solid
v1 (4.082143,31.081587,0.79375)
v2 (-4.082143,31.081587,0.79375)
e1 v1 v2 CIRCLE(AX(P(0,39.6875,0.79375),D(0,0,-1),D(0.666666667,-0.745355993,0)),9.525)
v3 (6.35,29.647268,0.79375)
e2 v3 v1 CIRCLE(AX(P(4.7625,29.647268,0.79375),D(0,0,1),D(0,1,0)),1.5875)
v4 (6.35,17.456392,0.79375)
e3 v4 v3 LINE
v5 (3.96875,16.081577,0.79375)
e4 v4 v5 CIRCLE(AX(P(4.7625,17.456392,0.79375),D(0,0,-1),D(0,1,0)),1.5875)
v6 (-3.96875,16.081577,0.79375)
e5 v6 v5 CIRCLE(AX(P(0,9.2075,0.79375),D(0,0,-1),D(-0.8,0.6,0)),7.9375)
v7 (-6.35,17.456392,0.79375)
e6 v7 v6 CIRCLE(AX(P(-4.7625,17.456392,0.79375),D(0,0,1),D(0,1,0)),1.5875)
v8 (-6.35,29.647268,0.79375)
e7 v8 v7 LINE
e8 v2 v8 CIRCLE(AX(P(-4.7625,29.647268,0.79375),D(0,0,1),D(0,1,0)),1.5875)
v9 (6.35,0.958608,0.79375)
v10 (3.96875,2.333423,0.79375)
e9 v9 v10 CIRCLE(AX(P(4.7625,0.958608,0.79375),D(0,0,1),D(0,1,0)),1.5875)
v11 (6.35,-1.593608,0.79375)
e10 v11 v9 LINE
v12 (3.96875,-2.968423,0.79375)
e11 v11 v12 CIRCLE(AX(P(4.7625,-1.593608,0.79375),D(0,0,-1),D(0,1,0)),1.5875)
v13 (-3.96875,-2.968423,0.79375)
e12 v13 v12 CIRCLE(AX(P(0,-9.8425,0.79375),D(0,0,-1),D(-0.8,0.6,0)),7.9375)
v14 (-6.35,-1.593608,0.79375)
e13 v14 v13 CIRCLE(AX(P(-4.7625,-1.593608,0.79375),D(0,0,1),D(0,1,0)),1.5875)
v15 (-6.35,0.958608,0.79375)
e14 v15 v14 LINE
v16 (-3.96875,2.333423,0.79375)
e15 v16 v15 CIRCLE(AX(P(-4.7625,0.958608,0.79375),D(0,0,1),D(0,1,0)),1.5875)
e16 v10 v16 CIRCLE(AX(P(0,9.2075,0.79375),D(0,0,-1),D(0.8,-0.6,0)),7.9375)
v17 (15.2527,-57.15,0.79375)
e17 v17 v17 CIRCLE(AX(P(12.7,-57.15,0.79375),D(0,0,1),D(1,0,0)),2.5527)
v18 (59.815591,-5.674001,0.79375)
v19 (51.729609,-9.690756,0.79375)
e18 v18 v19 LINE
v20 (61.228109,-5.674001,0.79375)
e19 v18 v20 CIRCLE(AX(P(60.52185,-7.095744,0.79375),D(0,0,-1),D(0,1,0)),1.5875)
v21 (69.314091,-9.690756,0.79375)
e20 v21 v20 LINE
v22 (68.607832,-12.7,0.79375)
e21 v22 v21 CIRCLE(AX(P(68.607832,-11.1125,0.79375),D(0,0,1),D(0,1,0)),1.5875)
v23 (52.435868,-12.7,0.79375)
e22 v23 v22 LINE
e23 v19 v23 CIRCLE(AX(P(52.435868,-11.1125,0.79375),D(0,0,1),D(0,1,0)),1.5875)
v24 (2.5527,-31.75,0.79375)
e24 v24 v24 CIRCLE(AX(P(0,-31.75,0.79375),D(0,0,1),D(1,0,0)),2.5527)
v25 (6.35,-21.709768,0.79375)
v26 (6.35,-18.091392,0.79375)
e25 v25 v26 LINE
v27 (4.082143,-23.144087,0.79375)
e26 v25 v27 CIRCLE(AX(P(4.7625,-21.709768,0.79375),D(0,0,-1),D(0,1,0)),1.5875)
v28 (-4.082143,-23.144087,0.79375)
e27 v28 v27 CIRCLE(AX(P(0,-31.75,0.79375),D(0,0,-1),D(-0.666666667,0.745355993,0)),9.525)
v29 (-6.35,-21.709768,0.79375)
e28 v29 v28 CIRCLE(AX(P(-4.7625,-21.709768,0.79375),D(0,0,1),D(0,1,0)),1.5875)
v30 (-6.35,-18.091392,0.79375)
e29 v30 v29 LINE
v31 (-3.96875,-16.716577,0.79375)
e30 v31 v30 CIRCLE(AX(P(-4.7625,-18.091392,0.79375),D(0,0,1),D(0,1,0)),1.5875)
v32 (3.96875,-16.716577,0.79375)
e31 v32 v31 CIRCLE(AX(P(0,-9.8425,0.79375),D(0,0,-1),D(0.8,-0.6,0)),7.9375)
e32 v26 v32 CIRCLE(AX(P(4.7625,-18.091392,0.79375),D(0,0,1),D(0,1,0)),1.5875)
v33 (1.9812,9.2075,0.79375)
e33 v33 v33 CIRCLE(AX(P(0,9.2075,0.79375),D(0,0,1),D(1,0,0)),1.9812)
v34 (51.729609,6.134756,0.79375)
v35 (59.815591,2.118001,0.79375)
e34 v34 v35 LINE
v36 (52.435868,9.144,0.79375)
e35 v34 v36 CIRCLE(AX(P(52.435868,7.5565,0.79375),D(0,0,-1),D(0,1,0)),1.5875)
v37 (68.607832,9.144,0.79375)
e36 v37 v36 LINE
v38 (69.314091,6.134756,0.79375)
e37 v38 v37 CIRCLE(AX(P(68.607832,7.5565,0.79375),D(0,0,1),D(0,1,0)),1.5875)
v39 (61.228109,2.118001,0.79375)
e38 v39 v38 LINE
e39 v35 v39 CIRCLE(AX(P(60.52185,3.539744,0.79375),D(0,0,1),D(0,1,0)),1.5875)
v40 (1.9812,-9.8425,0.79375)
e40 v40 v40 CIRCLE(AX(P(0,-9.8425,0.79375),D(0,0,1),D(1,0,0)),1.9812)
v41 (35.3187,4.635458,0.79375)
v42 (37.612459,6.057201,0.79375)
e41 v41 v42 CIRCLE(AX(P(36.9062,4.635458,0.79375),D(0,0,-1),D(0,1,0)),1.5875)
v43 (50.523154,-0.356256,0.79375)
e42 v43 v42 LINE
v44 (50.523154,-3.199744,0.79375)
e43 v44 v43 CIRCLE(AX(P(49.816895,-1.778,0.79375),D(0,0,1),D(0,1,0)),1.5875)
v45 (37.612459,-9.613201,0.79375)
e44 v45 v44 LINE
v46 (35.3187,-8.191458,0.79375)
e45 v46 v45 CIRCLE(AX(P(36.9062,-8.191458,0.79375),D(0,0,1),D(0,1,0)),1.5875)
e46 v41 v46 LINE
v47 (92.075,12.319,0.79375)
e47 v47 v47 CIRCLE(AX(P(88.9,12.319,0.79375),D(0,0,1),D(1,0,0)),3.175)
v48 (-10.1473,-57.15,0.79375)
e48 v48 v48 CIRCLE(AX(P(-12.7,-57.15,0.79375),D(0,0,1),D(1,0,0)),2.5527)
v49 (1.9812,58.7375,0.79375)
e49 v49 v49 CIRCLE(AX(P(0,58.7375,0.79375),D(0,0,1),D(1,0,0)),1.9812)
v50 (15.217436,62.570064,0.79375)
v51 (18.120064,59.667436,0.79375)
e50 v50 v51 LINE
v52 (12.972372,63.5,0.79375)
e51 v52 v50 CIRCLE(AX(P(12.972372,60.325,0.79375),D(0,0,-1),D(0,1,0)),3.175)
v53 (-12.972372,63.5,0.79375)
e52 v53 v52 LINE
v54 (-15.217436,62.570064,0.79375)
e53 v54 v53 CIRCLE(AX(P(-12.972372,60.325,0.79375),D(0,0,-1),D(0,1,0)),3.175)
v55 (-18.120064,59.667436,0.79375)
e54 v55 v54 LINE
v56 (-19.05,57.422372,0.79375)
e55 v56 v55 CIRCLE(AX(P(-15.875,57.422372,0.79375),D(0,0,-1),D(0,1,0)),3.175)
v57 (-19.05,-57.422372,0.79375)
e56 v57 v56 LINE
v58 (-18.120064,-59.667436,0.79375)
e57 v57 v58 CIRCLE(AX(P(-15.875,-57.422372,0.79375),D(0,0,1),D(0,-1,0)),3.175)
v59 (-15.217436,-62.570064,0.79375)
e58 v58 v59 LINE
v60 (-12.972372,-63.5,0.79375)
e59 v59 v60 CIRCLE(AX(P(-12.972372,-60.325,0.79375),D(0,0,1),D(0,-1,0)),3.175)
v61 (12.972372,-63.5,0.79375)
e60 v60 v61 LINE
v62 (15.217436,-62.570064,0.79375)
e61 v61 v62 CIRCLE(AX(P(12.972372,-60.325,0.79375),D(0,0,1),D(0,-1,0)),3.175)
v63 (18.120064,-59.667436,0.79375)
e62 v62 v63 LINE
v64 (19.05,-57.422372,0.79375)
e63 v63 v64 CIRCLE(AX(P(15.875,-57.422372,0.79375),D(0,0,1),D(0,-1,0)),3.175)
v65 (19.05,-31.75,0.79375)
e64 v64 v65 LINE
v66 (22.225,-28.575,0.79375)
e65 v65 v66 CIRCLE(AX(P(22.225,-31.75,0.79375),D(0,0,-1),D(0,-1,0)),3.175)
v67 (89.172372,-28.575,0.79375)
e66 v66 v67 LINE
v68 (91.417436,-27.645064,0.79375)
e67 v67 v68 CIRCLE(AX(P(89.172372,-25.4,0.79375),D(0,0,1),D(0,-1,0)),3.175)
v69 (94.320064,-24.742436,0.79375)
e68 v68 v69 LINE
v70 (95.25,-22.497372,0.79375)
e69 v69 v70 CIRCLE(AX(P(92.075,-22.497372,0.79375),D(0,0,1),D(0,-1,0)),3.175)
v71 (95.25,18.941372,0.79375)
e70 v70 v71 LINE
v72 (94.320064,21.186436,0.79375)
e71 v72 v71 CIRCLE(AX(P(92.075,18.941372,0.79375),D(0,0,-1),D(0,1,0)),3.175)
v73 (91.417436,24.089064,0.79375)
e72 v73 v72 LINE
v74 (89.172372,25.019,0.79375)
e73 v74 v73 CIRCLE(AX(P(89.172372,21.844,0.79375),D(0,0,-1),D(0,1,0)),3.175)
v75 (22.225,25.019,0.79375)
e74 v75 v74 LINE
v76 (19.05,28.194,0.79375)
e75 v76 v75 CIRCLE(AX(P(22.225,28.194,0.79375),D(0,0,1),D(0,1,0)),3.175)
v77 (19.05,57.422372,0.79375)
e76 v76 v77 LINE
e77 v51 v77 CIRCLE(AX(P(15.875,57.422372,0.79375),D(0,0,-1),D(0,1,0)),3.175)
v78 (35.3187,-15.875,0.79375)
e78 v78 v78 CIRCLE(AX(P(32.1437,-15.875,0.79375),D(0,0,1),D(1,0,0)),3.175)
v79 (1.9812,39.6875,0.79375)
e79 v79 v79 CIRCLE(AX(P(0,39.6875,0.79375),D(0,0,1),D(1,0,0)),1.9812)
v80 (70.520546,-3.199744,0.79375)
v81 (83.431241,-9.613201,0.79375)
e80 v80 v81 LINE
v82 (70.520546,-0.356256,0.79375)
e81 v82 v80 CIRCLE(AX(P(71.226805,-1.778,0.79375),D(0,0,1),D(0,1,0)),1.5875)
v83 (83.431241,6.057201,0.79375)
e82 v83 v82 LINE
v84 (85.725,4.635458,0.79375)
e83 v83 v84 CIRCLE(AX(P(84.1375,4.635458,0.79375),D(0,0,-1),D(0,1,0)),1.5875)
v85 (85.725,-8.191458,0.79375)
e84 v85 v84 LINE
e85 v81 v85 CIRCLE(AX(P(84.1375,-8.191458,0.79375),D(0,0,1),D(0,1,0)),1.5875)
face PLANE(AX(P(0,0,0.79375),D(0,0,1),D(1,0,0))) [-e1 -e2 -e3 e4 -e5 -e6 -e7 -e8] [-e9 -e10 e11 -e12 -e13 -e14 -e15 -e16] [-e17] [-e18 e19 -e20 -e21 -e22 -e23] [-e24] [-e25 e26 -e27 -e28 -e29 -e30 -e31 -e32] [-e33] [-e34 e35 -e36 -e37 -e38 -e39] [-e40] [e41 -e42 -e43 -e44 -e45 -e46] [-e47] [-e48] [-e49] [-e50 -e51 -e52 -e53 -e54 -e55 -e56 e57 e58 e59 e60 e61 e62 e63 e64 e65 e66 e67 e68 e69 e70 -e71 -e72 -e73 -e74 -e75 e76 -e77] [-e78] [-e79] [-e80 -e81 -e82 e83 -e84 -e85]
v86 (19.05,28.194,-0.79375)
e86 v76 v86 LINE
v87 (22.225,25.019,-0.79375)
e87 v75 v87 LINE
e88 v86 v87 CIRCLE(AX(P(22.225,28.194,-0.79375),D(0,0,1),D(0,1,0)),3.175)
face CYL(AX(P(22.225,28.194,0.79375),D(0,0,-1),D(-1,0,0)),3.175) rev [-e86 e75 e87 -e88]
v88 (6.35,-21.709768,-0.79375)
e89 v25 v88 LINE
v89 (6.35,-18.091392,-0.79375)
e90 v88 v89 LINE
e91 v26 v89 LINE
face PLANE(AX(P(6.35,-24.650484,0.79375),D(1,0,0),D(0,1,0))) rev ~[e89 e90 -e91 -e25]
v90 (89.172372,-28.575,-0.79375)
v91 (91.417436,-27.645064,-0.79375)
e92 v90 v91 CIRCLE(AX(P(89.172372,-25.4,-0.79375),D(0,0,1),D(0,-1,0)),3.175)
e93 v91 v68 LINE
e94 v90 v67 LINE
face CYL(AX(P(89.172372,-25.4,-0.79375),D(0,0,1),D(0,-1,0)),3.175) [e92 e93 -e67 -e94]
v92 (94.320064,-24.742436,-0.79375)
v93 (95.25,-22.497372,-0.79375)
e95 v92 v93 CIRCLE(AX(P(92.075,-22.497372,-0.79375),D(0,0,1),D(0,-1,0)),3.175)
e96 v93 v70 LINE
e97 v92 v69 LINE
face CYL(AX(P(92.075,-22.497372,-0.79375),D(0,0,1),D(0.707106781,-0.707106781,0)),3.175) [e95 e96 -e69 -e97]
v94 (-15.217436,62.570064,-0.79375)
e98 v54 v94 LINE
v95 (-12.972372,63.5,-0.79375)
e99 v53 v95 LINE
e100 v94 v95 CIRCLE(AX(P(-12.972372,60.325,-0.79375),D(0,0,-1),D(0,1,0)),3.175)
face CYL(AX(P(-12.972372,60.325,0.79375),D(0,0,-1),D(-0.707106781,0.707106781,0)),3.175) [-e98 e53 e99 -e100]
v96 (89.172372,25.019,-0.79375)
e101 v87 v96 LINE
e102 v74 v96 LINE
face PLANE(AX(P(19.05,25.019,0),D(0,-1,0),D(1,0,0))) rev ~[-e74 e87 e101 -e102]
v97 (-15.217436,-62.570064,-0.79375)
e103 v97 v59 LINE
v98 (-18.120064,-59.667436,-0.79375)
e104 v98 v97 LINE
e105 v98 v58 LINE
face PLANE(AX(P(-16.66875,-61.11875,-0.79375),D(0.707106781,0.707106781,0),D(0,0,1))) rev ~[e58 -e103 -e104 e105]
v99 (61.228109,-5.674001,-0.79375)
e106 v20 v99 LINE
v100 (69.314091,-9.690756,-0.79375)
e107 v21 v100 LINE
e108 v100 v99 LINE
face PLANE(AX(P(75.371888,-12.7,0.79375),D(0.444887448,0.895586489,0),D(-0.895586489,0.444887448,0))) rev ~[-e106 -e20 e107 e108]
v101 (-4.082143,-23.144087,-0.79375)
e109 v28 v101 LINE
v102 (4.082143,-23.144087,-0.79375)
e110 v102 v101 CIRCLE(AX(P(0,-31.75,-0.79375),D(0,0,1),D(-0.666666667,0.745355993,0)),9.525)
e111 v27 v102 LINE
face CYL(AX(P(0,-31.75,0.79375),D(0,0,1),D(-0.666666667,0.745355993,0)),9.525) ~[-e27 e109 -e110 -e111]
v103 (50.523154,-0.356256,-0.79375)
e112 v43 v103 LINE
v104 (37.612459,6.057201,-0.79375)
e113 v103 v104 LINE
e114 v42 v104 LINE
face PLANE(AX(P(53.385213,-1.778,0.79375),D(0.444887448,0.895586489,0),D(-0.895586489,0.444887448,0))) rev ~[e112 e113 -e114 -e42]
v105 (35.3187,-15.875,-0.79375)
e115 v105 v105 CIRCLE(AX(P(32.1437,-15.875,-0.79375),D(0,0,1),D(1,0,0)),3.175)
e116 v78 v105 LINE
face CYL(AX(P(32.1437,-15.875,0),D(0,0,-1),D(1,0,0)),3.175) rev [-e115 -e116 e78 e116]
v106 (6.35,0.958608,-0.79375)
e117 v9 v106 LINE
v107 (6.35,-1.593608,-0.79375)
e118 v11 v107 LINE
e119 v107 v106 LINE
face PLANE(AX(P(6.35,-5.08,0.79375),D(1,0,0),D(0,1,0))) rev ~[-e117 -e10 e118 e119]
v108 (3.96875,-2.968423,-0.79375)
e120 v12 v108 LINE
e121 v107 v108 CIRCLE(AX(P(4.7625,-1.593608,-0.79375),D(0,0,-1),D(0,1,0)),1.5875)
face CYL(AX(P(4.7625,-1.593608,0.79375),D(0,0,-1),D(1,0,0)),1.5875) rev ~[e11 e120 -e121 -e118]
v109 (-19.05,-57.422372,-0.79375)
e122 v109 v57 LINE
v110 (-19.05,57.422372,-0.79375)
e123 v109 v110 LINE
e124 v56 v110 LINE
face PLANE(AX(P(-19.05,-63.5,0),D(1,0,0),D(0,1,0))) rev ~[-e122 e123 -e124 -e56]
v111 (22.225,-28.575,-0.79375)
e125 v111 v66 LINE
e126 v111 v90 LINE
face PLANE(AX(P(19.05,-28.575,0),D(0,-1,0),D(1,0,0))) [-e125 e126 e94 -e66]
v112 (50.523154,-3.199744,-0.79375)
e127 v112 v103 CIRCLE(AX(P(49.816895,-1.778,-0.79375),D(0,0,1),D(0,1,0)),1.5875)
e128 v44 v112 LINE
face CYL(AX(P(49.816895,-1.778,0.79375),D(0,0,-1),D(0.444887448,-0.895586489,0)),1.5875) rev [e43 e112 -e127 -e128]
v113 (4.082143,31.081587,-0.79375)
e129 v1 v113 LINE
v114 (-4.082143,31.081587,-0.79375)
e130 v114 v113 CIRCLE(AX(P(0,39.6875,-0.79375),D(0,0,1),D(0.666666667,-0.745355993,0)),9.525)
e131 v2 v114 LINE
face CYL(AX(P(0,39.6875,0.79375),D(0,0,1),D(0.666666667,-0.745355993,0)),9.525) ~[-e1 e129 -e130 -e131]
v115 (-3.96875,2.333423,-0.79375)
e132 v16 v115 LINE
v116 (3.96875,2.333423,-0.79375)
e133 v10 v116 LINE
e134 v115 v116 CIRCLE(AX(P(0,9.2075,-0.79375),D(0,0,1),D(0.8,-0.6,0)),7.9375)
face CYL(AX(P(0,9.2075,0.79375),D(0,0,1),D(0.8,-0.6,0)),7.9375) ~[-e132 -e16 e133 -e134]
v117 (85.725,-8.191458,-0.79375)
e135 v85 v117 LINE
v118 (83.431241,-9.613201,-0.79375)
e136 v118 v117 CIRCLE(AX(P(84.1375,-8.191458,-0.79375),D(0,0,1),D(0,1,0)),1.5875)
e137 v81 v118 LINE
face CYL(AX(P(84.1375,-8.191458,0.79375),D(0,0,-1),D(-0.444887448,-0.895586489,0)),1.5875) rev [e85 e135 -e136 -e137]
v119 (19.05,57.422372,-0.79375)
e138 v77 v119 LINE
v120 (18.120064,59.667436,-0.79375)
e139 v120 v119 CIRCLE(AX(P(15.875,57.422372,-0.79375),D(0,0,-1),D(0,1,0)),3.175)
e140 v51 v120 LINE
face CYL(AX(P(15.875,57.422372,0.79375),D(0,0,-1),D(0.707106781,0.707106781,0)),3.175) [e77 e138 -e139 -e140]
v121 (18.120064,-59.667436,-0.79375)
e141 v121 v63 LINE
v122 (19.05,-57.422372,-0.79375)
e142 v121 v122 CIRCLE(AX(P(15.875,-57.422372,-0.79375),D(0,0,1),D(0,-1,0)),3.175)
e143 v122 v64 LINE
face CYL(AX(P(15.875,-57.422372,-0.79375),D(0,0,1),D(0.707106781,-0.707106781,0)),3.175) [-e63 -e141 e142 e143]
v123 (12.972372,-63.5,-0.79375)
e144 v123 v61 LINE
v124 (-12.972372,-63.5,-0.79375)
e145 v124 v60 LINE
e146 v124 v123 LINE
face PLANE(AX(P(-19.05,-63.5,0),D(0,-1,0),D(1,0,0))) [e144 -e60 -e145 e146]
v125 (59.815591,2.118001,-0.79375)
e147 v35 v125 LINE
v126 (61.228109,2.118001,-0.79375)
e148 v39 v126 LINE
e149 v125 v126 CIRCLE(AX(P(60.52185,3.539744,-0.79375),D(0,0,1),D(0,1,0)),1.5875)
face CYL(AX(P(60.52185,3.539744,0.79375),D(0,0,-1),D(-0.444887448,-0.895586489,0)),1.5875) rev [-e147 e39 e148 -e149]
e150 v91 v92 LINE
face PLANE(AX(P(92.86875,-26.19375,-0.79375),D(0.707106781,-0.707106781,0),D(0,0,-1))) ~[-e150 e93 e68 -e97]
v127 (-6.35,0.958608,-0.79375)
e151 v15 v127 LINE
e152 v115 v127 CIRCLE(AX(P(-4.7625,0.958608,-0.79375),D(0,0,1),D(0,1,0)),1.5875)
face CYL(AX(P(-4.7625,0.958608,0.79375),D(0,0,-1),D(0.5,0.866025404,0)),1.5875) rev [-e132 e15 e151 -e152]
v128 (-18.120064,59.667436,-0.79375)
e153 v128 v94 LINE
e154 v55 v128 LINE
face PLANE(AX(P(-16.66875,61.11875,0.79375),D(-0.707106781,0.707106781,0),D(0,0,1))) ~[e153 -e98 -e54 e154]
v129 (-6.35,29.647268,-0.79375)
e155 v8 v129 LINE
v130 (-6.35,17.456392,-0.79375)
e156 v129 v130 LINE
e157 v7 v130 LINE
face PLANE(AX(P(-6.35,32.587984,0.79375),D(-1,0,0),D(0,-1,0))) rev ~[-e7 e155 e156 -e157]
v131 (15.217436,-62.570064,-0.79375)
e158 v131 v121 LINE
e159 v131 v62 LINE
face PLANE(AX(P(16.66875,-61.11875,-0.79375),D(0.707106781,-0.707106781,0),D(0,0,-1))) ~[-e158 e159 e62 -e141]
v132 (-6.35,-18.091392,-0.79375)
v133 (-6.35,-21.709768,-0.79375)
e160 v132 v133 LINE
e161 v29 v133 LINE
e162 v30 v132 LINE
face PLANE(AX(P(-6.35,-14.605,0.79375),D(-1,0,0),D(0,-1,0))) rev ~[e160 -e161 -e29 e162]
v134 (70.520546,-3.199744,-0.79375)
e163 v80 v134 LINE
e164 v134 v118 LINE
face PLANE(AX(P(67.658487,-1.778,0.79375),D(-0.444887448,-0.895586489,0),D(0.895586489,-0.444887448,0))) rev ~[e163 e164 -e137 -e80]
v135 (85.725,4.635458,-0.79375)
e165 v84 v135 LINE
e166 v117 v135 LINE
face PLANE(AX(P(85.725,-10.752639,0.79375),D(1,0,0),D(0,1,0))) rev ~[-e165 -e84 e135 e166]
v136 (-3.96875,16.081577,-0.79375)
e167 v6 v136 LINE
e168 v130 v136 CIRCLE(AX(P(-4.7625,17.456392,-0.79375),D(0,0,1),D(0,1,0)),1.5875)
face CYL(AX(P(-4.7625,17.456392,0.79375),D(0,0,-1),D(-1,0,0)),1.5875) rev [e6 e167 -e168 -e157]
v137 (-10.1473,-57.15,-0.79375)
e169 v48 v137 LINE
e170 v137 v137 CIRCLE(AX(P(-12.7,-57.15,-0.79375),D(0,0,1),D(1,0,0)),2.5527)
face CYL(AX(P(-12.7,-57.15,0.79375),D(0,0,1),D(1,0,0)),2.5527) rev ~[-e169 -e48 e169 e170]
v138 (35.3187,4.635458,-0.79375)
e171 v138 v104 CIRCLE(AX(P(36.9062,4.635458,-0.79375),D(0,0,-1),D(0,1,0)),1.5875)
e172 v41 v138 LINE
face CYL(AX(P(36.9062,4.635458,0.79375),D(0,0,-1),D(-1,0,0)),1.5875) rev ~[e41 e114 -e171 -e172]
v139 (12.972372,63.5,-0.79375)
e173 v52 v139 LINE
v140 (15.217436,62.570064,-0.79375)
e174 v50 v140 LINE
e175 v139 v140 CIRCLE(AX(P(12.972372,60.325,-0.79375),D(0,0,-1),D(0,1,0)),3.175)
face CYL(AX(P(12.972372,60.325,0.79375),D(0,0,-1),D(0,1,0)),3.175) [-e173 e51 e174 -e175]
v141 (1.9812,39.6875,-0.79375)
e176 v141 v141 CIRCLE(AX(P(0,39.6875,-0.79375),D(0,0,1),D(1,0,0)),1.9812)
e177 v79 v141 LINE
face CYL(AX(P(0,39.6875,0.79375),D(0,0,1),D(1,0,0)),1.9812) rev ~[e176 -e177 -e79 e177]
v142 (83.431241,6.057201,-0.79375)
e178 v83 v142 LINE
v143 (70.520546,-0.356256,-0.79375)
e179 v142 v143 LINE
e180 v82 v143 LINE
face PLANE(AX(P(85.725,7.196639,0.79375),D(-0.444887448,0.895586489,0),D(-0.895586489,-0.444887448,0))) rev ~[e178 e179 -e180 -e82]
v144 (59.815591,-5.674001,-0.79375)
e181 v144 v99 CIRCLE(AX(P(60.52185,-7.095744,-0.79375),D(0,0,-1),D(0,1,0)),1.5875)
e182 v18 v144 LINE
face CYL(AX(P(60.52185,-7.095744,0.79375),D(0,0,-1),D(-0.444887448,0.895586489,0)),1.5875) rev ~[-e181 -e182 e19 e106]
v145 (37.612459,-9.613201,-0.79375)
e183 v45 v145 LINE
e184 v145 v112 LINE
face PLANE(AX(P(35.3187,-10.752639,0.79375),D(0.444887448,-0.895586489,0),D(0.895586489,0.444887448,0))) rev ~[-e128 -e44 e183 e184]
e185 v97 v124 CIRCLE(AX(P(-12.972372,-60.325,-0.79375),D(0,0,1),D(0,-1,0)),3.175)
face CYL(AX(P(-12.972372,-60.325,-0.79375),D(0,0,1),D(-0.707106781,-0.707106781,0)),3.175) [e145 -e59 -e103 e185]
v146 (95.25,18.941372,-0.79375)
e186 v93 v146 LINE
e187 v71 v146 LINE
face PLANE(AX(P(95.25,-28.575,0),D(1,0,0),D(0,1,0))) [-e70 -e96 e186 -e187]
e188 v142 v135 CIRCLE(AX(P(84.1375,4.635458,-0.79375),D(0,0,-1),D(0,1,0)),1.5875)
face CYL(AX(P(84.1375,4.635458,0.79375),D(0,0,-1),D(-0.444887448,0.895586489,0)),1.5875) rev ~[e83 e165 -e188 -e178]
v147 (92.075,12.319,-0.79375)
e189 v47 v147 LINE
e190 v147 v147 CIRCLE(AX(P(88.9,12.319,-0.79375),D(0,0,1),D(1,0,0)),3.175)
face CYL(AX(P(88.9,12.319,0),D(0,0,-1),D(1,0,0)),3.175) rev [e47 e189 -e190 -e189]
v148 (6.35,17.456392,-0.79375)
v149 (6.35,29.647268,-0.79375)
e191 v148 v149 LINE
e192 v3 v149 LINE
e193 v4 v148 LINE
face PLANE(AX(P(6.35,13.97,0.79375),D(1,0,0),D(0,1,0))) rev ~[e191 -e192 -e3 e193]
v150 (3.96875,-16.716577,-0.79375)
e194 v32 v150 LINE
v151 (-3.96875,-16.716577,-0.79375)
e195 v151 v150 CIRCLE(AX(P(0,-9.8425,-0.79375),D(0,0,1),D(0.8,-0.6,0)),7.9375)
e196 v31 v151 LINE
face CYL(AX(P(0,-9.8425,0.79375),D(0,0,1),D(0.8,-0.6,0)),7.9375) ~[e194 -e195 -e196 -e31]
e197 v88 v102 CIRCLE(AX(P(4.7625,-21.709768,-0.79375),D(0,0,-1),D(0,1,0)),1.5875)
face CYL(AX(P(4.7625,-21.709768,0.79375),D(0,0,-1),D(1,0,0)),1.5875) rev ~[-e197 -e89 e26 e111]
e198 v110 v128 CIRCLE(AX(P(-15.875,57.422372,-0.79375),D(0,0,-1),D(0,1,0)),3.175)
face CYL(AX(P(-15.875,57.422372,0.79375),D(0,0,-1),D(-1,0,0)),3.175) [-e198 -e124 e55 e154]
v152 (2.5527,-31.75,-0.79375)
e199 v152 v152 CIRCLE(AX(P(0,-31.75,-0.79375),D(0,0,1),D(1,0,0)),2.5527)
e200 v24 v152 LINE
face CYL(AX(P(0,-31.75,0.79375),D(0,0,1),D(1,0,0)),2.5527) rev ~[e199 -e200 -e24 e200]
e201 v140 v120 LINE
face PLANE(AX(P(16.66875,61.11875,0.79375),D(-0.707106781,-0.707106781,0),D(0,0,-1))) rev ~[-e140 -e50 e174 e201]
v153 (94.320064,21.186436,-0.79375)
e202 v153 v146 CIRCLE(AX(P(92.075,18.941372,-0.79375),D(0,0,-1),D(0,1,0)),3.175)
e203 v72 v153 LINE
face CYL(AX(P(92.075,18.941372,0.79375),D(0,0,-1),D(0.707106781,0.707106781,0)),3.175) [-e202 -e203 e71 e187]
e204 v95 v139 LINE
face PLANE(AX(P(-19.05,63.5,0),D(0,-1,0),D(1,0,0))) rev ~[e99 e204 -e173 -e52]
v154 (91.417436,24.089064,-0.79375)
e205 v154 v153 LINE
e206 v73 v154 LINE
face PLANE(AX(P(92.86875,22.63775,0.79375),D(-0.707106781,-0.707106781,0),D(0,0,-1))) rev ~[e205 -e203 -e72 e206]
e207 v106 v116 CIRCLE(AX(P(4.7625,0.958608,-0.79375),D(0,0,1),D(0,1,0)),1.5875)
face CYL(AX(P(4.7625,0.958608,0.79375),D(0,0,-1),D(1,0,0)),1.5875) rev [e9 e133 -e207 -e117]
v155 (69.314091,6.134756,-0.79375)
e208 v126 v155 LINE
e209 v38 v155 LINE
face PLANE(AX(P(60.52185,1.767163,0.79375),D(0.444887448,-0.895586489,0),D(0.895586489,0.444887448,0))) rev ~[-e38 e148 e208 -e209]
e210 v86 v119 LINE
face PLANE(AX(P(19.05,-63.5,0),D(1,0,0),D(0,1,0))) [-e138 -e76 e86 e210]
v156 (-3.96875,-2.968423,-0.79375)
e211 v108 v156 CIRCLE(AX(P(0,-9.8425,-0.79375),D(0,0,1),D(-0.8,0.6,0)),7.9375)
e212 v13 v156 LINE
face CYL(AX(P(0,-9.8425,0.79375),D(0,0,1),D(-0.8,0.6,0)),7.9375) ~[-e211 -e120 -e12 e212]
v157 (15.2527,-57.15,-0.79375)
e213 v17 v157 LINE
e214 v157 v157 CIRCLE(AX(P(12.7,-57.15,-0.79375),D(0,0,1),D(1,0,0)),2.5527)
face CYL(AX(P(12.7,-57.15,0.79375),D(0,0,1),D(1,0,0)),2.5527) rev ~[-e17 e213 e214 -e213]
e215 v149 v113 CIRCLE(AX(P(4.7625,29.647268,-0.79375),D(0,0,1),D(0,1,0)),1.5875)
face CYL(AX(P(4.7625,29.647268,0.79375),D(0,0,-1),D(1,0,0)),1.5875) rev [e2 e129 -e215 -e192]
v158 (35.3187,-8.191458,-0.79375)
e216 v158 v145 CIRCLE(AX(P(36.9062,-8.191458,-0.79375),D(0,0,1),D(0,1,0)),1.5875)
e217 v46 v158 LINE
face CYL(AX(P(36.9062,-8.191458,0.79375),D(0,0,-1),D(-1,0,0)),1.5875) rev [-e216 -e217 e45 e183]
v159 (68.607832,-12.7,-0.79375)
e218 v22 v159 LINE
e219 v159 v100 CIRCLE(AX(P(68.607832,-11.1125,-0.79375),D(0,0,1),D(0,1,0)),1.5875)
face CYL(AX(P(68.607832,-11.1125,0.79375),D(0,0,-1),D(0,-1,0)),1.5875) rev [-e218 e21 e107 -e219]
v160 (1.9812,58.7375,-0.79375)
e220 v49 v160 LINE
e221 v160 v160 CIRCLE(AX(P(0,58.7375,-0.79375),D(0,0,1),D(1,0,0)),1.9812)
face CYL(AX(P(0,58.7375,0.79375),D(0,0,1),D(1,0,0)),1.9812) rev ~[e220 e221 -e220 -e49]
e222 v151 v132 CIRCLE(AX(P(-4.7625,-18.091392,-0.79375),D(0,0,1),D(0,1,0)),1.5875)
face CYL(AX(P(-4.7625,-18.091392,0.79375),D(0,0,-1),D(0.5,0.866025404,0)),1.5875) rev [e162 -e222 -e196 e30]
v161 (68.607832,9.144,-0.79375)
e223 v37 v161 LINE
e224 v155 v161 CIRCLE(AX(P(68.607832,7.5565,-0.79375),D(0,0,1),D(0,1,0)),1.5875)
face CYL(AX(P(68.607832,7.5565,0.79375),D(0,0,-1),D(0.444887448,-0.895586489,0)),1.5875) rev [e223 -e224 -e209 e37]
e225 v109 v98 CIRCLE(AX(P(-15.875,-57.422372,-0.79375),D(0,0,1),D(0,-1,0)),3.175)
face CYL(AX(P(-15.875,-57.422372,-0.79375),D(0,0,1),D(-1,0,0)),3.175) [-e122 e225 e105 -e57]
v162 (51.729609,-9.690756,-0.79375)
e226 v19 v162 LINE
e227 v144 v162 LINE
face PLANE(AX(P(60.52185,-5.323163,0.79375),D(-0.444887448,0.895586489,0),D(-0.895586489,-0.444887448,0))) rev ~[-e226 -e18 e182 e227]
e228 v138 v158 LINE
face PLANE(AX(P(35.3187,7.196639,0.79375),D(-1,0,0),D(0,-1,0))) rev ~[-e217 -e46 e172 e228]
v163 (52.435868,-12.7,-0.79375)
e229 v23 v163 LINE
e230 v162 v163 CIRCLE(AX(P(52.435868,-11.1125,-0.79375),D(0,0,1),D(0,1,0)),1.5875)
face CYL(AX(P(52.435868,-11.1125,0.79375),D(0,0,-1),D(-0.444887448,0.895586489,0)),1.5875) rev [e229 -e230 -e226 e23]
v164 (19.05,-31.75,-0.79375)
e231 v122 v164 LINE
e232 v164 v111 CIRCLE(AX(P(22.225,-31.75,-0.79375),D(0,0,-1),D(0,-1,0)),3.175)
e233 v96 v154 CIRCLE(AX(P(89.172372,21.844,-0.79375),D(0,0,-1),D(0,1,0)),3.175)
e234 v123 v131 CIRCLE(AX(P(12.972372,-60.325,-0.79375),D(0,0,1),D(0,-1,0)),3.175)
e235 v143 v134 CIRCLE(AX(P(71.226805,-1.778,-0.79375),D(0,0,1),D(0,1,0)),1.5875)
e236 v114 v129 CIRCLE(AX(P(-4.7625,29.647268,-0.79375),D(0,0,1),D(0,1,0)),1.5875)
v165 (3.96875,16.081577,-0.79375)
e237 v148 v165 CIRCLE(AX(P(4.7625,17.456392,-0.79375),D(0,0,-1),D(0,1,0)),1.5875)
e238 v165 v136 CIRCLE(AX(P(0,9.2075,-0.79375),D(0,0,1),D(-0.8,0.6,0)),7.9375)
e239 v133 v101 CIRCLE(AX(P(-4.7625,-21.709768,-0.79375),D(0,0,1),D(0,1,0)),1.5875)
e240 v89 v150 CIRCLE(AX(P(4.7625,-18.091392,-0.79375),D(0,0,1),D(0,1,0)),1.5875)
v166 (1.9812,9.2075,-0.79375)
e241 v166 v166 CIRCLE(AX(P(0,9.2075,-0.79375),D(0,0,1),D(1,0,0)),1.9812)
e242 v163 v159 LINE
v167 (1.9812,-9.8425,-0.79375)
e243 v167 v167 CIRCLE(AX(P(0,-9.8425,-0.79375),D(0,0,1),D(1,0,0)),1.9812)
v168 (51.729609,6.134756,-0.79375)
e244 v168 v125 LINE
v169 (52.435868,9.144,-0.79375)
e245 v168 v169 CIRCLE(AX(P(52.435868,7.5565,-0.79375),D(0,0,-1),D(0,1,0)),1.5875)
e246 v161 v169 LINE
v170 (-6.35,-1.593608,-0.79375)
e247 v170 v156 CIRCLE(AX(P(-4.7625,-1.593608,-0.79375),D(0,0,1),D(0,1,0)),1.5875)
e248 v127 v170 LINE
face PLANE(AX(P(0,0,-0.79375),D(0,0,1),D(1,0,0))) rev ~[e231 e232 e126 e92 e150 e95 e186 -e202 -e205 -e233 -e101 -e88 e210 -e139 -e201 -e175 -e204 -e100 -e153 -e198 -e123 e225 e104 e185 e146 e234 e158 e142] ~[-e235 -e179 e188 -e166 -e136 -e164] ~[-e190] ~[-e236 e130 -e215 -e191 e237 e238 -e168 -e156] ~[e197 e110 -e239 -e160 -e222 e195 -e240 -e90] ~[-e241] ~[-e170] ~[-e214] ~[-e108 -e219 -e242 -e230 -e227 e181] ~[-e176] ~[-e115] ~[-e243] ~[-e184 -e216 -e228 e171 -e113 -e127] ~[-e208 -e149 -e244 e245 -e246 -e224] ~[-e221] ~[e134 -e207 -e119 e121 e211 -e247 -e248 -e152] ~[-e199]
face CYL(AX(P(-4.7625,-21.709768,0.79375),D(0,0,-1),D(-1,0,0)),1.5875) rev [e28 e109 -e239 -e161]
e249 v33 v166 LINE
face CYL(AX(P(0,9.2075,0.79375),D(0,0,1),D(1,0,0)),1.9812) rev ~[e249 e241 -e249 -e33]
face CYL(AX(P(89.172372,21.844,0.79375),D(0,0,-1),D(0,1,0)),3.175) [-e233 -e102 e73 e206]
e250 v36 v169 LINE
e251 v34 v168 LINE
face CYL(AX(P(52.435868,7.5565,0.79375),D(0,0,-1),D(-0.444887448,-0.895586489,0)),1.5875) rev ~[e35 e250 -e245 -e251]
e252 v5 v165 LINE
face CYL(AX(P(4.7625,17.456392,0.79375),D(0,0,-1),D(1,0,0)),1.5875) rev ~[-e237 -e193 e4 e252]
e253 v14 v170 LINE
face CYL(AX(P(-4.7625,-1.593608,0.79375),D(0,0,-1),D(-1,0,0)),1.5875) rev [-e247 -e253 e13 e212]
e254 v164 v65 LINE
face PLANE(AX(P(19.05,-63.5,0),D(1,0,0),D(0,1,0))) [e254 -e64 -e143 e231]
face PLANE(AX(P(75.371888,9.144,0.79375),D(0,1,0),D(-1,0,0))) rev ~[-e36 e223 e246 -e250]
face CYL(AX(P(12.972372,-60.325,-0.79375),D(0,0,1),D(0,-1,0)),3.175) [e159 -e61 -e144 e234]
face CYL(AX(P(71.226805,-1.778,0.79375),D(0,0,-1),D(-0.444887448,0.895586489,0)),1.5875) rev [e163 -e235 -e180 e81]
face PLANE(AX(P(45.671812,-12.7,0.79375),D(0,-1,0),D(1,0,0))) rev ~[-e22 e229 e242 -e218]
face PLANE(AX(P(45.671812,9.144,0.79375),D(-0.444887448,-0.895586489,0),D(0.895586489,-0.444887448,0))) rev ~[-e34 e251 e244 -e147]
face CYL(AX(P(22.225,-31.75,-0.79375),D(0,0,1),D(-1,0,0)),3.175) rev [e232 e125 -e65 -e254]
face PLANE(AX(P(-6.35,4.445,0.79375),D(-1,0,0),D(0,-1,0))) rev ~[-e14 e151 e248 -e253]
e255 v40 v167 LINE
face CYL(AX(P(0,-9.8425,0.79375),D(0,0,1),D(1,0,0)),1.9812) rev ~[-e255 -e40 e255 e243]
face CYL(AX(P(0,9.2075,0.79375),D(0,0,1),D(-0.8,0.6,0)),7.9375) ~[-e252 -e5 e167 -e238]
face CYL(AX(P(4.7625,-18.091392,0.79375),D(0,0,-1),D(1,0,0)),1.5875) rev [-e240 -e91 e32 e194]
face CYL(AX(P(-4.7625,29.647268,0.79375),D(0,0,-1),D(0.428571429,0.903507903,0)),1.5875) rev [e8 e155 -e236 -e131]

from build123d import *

# Parameters (mm, degrees)
SKETCH1_W           = 76.2
SKETCH1_H           = 53.594
SKETCH1_R           = 3.175
SKETCH1_W_2         = 38.1
SKETCH1_H_2         = 127
BOSS_EXTRUDE1_DEPTH = 0.79375
SKETCH2_R           = 2.5527
SKETCH2_R_2         = 1.9812
CUT_EXTRUDE1_DEPTH  = 115.487259799
CUT_EXTRUDE2_DEPTH  = 115.487259799
FILLET2_R           = 1.5875
CHAMFER1_SIZE       = 4.7625
FILLET3_R           = 3.175
CUT_EXTRUDE3_DEPTH  = 115.487259799
FILLET5_R           = 1.5875


with BuildPart() as part:
    # Sketch1 → Boss-Extrude1 (new, symmetric)
    # profile 1 of 2: a face of its own
    with BuildSketch(Plane.XY):
        with Locations((57.15, -1.778)):
            Rectangle(SKETCH1_W, SKETCH1_H)
        with Locations((32.1437, -15.875)):
            Circle(SKETCH1_R, mode=Mode.SUBTRACT)
        with Locations((88.9, 12.319)):
            Circle(SKETCH1_R, mode=Mode.SUBTRACT)
    # profile 2 of 2: a face of its own
    with BuildSketch(Plane.XY):
        Rectangle(SKETCH1_W_2, SKETCH1_H_2)
    extrude(amount=BOSS_EXTRUDE1_DEPTH, both=True)

    # Sketch2 → Cut-Extrude1 (cut, through all)
    with BuildSketch(Plane.XY.offset(0.79375)):
        with Locations((-12.7, -57.15)):
            Circle(SKETCH2_R)
        with Locations((12.7, -57.15)):
            Circle(SKETCH2_R)
        with Locations((0, -31.75)):
            Circle(SKETCH2_R)
        with Locations((0, -9.8425)):
            Circle(SKETCH2_R_2)
        with Locations((0, 9.2075)):
            Circle(SKETCH2_R_2)
        with Locations((0, 39.6875)):
            Circle(SKETCH2_R_2)
        with Locations((0, 58.7375)):
            Circle(SKETCH2_R_2)
    extrude(amount=-CUT_EXTRUDE1_DEPTH, mode=Mode.SUBTRACT)

    # Sketch3 → Cut-Extrude2 (cut, through all)
    with BuildSketch(Plane.XY.offset(0.79375)):
        Polygon((45.671811727, 9.144), (60.52185, 1.767162907), (75.371888273, 9.144), align=None)
        Polygon((35.3187, 7.196638614), (35.3187, -10.752638614), (53.385213498, -1.778), align=None)
        Polygon((60.52185, -5.323162907), (45.671811727, -12.7), (75.371888273, -12.7), align=None)
        Polygon((85.725, 7.196638614), (67.658486502, -1.778), (85.725, -10.752638614), align=None)
    extrude(amount=-CUT_EXTRUDE2_DEPTH, mode=Mode.SUBTRACT)

    # Fillet2
    fillet2_edges = [part.edges().sort_by_distance(p)[0] for p in [
        (60.52185, 1.767162907, 0),
        (45.671811727, 9.144, 0),
        (75.371888273, 9.144, 0),
        (35.3187, -10.752638614, 0),
        (35.3187, 7.196638614, 0),
        (53.385213498, -1.778, 0),
        (45.671811727, -12.7, 0),
        (60.52185, -5.323162907, 0),
        (75.371888273, -12.7, 0),
        (67.658486502, -1.778, 0),
        (85.725, 7.196638614, 0),
        (85.725, -10.752638614, 0),
    ]]
    fillet(fillet2_edges, radius=FILLET2_R)

    # Chamfer1
    chamfer1_edges = [part.edges().sort_by_distance(p)[0] for p in [
        (95.25, -28.575, 0),
        (19.05, -63.5, 0),
        (-19.05, -63.5, 0),
        (-19.05, 63.5, 0),
        (19.05, 63.5, 0),
        (95.25, 25.019, 0),
    ]]
    chamfer(chamfer1_edges, length=CHAMFER1_SIZE)

    # Fillet3
    fillet3_edges = [part.edges().sort_by_distance(p)[0] for p in [
        (19.05, -28.575, 0),
        (90.4875, 25.019, 0),
        (19.05, 25.019, 0),
        (95.25, -23.8125, 0),
        (95.25, 20.2565, 0),
        (90.4875, -28.575, 0),
        (19.05, -58.7375, 0),
        (-14.2875, -63.5, 0),
        (14.2875, -63.5, 0),
        (-19.05, 58.7375, 0),
        (-19.05, -58.7375, 0),
        (-14.2875, 63.5, 0),
        (14.2875, 63.5, 0),
        (19.05, 58.7375, 0),
    ]]
    fillet(fillet3_edges, radius=FILLET3_R)

    # Sketch5 → Cut-Extrude3 (cut, through all)
    with BuildSketch(Plane.XY.offset(0.79375)):
        with BuildLine():
            ThreePointArc((-6.35, -24.650484171), (0, -22.225), (6.35, -24.650484171))
            Line((6.35, -24.650484171), (6.35, -14.605))
            ThreePointArc((6.35, -14.605), (0, -17.78), (-6.35, -14.605))
            Line((-6.35, -14.605), (-6.35, -24.650484171))
        make_face()
        with BuildLine():
            Line((6.35, -5.08), (6.35, 4.445))
            ThreePointArc((6.35, 4.445), (0, 1.27), (-6.35, 4.445))
            Line((-6.35, 4.445), (-6.35, -5.08))
            ThreePointArc((-6.35, -5.08), (0, -1.905), (6.35, -5.08))
        make_face()
        with BuildLine():
            Line((6.35, 13.97), (6.35, 28.194))
            Line((6.35, 28.194), (6.35, 32.587984171))
            ThreePointArc((6.35, 32.587984171), (0, 30.1625), (-6.35, 32.587984171))
            Line((-6.35, 32.587984171), (-6.35, 13.97))
            ThreePointArc((-6.35, 13.97), (0, 17.145), (6.35, 13.97))
        make_face()
    extrude(amount=-CUT_EXTRUDE3_DEPTH, mode=Mode.SUBTRACT)

    # Fillet5
    fillet5_edges = [part.edges().sort_by_distance(p)[0] for p in [
        (6.35, -24.650484171, 0),
        (-6.35, -24.650484171, 0),
        (-6.35, -14.605, 0),
        (6.35, -14.605, 0),
        (6.35, -5.08, 0),
        (-6.35, -5.08, 0),
        (-6.35, 4.445, 0),
        (6.35, 4.445, 0),
        (6.35, 13.97, 0),
        (-6.35, 13.97, 0),
        (-6.35, 32.587984171, 0),
        (6.35, 32.587984171, 0),
    ]]
    fillet(fillet5_edges, radius=FILLET5_R)


solid = part.part
